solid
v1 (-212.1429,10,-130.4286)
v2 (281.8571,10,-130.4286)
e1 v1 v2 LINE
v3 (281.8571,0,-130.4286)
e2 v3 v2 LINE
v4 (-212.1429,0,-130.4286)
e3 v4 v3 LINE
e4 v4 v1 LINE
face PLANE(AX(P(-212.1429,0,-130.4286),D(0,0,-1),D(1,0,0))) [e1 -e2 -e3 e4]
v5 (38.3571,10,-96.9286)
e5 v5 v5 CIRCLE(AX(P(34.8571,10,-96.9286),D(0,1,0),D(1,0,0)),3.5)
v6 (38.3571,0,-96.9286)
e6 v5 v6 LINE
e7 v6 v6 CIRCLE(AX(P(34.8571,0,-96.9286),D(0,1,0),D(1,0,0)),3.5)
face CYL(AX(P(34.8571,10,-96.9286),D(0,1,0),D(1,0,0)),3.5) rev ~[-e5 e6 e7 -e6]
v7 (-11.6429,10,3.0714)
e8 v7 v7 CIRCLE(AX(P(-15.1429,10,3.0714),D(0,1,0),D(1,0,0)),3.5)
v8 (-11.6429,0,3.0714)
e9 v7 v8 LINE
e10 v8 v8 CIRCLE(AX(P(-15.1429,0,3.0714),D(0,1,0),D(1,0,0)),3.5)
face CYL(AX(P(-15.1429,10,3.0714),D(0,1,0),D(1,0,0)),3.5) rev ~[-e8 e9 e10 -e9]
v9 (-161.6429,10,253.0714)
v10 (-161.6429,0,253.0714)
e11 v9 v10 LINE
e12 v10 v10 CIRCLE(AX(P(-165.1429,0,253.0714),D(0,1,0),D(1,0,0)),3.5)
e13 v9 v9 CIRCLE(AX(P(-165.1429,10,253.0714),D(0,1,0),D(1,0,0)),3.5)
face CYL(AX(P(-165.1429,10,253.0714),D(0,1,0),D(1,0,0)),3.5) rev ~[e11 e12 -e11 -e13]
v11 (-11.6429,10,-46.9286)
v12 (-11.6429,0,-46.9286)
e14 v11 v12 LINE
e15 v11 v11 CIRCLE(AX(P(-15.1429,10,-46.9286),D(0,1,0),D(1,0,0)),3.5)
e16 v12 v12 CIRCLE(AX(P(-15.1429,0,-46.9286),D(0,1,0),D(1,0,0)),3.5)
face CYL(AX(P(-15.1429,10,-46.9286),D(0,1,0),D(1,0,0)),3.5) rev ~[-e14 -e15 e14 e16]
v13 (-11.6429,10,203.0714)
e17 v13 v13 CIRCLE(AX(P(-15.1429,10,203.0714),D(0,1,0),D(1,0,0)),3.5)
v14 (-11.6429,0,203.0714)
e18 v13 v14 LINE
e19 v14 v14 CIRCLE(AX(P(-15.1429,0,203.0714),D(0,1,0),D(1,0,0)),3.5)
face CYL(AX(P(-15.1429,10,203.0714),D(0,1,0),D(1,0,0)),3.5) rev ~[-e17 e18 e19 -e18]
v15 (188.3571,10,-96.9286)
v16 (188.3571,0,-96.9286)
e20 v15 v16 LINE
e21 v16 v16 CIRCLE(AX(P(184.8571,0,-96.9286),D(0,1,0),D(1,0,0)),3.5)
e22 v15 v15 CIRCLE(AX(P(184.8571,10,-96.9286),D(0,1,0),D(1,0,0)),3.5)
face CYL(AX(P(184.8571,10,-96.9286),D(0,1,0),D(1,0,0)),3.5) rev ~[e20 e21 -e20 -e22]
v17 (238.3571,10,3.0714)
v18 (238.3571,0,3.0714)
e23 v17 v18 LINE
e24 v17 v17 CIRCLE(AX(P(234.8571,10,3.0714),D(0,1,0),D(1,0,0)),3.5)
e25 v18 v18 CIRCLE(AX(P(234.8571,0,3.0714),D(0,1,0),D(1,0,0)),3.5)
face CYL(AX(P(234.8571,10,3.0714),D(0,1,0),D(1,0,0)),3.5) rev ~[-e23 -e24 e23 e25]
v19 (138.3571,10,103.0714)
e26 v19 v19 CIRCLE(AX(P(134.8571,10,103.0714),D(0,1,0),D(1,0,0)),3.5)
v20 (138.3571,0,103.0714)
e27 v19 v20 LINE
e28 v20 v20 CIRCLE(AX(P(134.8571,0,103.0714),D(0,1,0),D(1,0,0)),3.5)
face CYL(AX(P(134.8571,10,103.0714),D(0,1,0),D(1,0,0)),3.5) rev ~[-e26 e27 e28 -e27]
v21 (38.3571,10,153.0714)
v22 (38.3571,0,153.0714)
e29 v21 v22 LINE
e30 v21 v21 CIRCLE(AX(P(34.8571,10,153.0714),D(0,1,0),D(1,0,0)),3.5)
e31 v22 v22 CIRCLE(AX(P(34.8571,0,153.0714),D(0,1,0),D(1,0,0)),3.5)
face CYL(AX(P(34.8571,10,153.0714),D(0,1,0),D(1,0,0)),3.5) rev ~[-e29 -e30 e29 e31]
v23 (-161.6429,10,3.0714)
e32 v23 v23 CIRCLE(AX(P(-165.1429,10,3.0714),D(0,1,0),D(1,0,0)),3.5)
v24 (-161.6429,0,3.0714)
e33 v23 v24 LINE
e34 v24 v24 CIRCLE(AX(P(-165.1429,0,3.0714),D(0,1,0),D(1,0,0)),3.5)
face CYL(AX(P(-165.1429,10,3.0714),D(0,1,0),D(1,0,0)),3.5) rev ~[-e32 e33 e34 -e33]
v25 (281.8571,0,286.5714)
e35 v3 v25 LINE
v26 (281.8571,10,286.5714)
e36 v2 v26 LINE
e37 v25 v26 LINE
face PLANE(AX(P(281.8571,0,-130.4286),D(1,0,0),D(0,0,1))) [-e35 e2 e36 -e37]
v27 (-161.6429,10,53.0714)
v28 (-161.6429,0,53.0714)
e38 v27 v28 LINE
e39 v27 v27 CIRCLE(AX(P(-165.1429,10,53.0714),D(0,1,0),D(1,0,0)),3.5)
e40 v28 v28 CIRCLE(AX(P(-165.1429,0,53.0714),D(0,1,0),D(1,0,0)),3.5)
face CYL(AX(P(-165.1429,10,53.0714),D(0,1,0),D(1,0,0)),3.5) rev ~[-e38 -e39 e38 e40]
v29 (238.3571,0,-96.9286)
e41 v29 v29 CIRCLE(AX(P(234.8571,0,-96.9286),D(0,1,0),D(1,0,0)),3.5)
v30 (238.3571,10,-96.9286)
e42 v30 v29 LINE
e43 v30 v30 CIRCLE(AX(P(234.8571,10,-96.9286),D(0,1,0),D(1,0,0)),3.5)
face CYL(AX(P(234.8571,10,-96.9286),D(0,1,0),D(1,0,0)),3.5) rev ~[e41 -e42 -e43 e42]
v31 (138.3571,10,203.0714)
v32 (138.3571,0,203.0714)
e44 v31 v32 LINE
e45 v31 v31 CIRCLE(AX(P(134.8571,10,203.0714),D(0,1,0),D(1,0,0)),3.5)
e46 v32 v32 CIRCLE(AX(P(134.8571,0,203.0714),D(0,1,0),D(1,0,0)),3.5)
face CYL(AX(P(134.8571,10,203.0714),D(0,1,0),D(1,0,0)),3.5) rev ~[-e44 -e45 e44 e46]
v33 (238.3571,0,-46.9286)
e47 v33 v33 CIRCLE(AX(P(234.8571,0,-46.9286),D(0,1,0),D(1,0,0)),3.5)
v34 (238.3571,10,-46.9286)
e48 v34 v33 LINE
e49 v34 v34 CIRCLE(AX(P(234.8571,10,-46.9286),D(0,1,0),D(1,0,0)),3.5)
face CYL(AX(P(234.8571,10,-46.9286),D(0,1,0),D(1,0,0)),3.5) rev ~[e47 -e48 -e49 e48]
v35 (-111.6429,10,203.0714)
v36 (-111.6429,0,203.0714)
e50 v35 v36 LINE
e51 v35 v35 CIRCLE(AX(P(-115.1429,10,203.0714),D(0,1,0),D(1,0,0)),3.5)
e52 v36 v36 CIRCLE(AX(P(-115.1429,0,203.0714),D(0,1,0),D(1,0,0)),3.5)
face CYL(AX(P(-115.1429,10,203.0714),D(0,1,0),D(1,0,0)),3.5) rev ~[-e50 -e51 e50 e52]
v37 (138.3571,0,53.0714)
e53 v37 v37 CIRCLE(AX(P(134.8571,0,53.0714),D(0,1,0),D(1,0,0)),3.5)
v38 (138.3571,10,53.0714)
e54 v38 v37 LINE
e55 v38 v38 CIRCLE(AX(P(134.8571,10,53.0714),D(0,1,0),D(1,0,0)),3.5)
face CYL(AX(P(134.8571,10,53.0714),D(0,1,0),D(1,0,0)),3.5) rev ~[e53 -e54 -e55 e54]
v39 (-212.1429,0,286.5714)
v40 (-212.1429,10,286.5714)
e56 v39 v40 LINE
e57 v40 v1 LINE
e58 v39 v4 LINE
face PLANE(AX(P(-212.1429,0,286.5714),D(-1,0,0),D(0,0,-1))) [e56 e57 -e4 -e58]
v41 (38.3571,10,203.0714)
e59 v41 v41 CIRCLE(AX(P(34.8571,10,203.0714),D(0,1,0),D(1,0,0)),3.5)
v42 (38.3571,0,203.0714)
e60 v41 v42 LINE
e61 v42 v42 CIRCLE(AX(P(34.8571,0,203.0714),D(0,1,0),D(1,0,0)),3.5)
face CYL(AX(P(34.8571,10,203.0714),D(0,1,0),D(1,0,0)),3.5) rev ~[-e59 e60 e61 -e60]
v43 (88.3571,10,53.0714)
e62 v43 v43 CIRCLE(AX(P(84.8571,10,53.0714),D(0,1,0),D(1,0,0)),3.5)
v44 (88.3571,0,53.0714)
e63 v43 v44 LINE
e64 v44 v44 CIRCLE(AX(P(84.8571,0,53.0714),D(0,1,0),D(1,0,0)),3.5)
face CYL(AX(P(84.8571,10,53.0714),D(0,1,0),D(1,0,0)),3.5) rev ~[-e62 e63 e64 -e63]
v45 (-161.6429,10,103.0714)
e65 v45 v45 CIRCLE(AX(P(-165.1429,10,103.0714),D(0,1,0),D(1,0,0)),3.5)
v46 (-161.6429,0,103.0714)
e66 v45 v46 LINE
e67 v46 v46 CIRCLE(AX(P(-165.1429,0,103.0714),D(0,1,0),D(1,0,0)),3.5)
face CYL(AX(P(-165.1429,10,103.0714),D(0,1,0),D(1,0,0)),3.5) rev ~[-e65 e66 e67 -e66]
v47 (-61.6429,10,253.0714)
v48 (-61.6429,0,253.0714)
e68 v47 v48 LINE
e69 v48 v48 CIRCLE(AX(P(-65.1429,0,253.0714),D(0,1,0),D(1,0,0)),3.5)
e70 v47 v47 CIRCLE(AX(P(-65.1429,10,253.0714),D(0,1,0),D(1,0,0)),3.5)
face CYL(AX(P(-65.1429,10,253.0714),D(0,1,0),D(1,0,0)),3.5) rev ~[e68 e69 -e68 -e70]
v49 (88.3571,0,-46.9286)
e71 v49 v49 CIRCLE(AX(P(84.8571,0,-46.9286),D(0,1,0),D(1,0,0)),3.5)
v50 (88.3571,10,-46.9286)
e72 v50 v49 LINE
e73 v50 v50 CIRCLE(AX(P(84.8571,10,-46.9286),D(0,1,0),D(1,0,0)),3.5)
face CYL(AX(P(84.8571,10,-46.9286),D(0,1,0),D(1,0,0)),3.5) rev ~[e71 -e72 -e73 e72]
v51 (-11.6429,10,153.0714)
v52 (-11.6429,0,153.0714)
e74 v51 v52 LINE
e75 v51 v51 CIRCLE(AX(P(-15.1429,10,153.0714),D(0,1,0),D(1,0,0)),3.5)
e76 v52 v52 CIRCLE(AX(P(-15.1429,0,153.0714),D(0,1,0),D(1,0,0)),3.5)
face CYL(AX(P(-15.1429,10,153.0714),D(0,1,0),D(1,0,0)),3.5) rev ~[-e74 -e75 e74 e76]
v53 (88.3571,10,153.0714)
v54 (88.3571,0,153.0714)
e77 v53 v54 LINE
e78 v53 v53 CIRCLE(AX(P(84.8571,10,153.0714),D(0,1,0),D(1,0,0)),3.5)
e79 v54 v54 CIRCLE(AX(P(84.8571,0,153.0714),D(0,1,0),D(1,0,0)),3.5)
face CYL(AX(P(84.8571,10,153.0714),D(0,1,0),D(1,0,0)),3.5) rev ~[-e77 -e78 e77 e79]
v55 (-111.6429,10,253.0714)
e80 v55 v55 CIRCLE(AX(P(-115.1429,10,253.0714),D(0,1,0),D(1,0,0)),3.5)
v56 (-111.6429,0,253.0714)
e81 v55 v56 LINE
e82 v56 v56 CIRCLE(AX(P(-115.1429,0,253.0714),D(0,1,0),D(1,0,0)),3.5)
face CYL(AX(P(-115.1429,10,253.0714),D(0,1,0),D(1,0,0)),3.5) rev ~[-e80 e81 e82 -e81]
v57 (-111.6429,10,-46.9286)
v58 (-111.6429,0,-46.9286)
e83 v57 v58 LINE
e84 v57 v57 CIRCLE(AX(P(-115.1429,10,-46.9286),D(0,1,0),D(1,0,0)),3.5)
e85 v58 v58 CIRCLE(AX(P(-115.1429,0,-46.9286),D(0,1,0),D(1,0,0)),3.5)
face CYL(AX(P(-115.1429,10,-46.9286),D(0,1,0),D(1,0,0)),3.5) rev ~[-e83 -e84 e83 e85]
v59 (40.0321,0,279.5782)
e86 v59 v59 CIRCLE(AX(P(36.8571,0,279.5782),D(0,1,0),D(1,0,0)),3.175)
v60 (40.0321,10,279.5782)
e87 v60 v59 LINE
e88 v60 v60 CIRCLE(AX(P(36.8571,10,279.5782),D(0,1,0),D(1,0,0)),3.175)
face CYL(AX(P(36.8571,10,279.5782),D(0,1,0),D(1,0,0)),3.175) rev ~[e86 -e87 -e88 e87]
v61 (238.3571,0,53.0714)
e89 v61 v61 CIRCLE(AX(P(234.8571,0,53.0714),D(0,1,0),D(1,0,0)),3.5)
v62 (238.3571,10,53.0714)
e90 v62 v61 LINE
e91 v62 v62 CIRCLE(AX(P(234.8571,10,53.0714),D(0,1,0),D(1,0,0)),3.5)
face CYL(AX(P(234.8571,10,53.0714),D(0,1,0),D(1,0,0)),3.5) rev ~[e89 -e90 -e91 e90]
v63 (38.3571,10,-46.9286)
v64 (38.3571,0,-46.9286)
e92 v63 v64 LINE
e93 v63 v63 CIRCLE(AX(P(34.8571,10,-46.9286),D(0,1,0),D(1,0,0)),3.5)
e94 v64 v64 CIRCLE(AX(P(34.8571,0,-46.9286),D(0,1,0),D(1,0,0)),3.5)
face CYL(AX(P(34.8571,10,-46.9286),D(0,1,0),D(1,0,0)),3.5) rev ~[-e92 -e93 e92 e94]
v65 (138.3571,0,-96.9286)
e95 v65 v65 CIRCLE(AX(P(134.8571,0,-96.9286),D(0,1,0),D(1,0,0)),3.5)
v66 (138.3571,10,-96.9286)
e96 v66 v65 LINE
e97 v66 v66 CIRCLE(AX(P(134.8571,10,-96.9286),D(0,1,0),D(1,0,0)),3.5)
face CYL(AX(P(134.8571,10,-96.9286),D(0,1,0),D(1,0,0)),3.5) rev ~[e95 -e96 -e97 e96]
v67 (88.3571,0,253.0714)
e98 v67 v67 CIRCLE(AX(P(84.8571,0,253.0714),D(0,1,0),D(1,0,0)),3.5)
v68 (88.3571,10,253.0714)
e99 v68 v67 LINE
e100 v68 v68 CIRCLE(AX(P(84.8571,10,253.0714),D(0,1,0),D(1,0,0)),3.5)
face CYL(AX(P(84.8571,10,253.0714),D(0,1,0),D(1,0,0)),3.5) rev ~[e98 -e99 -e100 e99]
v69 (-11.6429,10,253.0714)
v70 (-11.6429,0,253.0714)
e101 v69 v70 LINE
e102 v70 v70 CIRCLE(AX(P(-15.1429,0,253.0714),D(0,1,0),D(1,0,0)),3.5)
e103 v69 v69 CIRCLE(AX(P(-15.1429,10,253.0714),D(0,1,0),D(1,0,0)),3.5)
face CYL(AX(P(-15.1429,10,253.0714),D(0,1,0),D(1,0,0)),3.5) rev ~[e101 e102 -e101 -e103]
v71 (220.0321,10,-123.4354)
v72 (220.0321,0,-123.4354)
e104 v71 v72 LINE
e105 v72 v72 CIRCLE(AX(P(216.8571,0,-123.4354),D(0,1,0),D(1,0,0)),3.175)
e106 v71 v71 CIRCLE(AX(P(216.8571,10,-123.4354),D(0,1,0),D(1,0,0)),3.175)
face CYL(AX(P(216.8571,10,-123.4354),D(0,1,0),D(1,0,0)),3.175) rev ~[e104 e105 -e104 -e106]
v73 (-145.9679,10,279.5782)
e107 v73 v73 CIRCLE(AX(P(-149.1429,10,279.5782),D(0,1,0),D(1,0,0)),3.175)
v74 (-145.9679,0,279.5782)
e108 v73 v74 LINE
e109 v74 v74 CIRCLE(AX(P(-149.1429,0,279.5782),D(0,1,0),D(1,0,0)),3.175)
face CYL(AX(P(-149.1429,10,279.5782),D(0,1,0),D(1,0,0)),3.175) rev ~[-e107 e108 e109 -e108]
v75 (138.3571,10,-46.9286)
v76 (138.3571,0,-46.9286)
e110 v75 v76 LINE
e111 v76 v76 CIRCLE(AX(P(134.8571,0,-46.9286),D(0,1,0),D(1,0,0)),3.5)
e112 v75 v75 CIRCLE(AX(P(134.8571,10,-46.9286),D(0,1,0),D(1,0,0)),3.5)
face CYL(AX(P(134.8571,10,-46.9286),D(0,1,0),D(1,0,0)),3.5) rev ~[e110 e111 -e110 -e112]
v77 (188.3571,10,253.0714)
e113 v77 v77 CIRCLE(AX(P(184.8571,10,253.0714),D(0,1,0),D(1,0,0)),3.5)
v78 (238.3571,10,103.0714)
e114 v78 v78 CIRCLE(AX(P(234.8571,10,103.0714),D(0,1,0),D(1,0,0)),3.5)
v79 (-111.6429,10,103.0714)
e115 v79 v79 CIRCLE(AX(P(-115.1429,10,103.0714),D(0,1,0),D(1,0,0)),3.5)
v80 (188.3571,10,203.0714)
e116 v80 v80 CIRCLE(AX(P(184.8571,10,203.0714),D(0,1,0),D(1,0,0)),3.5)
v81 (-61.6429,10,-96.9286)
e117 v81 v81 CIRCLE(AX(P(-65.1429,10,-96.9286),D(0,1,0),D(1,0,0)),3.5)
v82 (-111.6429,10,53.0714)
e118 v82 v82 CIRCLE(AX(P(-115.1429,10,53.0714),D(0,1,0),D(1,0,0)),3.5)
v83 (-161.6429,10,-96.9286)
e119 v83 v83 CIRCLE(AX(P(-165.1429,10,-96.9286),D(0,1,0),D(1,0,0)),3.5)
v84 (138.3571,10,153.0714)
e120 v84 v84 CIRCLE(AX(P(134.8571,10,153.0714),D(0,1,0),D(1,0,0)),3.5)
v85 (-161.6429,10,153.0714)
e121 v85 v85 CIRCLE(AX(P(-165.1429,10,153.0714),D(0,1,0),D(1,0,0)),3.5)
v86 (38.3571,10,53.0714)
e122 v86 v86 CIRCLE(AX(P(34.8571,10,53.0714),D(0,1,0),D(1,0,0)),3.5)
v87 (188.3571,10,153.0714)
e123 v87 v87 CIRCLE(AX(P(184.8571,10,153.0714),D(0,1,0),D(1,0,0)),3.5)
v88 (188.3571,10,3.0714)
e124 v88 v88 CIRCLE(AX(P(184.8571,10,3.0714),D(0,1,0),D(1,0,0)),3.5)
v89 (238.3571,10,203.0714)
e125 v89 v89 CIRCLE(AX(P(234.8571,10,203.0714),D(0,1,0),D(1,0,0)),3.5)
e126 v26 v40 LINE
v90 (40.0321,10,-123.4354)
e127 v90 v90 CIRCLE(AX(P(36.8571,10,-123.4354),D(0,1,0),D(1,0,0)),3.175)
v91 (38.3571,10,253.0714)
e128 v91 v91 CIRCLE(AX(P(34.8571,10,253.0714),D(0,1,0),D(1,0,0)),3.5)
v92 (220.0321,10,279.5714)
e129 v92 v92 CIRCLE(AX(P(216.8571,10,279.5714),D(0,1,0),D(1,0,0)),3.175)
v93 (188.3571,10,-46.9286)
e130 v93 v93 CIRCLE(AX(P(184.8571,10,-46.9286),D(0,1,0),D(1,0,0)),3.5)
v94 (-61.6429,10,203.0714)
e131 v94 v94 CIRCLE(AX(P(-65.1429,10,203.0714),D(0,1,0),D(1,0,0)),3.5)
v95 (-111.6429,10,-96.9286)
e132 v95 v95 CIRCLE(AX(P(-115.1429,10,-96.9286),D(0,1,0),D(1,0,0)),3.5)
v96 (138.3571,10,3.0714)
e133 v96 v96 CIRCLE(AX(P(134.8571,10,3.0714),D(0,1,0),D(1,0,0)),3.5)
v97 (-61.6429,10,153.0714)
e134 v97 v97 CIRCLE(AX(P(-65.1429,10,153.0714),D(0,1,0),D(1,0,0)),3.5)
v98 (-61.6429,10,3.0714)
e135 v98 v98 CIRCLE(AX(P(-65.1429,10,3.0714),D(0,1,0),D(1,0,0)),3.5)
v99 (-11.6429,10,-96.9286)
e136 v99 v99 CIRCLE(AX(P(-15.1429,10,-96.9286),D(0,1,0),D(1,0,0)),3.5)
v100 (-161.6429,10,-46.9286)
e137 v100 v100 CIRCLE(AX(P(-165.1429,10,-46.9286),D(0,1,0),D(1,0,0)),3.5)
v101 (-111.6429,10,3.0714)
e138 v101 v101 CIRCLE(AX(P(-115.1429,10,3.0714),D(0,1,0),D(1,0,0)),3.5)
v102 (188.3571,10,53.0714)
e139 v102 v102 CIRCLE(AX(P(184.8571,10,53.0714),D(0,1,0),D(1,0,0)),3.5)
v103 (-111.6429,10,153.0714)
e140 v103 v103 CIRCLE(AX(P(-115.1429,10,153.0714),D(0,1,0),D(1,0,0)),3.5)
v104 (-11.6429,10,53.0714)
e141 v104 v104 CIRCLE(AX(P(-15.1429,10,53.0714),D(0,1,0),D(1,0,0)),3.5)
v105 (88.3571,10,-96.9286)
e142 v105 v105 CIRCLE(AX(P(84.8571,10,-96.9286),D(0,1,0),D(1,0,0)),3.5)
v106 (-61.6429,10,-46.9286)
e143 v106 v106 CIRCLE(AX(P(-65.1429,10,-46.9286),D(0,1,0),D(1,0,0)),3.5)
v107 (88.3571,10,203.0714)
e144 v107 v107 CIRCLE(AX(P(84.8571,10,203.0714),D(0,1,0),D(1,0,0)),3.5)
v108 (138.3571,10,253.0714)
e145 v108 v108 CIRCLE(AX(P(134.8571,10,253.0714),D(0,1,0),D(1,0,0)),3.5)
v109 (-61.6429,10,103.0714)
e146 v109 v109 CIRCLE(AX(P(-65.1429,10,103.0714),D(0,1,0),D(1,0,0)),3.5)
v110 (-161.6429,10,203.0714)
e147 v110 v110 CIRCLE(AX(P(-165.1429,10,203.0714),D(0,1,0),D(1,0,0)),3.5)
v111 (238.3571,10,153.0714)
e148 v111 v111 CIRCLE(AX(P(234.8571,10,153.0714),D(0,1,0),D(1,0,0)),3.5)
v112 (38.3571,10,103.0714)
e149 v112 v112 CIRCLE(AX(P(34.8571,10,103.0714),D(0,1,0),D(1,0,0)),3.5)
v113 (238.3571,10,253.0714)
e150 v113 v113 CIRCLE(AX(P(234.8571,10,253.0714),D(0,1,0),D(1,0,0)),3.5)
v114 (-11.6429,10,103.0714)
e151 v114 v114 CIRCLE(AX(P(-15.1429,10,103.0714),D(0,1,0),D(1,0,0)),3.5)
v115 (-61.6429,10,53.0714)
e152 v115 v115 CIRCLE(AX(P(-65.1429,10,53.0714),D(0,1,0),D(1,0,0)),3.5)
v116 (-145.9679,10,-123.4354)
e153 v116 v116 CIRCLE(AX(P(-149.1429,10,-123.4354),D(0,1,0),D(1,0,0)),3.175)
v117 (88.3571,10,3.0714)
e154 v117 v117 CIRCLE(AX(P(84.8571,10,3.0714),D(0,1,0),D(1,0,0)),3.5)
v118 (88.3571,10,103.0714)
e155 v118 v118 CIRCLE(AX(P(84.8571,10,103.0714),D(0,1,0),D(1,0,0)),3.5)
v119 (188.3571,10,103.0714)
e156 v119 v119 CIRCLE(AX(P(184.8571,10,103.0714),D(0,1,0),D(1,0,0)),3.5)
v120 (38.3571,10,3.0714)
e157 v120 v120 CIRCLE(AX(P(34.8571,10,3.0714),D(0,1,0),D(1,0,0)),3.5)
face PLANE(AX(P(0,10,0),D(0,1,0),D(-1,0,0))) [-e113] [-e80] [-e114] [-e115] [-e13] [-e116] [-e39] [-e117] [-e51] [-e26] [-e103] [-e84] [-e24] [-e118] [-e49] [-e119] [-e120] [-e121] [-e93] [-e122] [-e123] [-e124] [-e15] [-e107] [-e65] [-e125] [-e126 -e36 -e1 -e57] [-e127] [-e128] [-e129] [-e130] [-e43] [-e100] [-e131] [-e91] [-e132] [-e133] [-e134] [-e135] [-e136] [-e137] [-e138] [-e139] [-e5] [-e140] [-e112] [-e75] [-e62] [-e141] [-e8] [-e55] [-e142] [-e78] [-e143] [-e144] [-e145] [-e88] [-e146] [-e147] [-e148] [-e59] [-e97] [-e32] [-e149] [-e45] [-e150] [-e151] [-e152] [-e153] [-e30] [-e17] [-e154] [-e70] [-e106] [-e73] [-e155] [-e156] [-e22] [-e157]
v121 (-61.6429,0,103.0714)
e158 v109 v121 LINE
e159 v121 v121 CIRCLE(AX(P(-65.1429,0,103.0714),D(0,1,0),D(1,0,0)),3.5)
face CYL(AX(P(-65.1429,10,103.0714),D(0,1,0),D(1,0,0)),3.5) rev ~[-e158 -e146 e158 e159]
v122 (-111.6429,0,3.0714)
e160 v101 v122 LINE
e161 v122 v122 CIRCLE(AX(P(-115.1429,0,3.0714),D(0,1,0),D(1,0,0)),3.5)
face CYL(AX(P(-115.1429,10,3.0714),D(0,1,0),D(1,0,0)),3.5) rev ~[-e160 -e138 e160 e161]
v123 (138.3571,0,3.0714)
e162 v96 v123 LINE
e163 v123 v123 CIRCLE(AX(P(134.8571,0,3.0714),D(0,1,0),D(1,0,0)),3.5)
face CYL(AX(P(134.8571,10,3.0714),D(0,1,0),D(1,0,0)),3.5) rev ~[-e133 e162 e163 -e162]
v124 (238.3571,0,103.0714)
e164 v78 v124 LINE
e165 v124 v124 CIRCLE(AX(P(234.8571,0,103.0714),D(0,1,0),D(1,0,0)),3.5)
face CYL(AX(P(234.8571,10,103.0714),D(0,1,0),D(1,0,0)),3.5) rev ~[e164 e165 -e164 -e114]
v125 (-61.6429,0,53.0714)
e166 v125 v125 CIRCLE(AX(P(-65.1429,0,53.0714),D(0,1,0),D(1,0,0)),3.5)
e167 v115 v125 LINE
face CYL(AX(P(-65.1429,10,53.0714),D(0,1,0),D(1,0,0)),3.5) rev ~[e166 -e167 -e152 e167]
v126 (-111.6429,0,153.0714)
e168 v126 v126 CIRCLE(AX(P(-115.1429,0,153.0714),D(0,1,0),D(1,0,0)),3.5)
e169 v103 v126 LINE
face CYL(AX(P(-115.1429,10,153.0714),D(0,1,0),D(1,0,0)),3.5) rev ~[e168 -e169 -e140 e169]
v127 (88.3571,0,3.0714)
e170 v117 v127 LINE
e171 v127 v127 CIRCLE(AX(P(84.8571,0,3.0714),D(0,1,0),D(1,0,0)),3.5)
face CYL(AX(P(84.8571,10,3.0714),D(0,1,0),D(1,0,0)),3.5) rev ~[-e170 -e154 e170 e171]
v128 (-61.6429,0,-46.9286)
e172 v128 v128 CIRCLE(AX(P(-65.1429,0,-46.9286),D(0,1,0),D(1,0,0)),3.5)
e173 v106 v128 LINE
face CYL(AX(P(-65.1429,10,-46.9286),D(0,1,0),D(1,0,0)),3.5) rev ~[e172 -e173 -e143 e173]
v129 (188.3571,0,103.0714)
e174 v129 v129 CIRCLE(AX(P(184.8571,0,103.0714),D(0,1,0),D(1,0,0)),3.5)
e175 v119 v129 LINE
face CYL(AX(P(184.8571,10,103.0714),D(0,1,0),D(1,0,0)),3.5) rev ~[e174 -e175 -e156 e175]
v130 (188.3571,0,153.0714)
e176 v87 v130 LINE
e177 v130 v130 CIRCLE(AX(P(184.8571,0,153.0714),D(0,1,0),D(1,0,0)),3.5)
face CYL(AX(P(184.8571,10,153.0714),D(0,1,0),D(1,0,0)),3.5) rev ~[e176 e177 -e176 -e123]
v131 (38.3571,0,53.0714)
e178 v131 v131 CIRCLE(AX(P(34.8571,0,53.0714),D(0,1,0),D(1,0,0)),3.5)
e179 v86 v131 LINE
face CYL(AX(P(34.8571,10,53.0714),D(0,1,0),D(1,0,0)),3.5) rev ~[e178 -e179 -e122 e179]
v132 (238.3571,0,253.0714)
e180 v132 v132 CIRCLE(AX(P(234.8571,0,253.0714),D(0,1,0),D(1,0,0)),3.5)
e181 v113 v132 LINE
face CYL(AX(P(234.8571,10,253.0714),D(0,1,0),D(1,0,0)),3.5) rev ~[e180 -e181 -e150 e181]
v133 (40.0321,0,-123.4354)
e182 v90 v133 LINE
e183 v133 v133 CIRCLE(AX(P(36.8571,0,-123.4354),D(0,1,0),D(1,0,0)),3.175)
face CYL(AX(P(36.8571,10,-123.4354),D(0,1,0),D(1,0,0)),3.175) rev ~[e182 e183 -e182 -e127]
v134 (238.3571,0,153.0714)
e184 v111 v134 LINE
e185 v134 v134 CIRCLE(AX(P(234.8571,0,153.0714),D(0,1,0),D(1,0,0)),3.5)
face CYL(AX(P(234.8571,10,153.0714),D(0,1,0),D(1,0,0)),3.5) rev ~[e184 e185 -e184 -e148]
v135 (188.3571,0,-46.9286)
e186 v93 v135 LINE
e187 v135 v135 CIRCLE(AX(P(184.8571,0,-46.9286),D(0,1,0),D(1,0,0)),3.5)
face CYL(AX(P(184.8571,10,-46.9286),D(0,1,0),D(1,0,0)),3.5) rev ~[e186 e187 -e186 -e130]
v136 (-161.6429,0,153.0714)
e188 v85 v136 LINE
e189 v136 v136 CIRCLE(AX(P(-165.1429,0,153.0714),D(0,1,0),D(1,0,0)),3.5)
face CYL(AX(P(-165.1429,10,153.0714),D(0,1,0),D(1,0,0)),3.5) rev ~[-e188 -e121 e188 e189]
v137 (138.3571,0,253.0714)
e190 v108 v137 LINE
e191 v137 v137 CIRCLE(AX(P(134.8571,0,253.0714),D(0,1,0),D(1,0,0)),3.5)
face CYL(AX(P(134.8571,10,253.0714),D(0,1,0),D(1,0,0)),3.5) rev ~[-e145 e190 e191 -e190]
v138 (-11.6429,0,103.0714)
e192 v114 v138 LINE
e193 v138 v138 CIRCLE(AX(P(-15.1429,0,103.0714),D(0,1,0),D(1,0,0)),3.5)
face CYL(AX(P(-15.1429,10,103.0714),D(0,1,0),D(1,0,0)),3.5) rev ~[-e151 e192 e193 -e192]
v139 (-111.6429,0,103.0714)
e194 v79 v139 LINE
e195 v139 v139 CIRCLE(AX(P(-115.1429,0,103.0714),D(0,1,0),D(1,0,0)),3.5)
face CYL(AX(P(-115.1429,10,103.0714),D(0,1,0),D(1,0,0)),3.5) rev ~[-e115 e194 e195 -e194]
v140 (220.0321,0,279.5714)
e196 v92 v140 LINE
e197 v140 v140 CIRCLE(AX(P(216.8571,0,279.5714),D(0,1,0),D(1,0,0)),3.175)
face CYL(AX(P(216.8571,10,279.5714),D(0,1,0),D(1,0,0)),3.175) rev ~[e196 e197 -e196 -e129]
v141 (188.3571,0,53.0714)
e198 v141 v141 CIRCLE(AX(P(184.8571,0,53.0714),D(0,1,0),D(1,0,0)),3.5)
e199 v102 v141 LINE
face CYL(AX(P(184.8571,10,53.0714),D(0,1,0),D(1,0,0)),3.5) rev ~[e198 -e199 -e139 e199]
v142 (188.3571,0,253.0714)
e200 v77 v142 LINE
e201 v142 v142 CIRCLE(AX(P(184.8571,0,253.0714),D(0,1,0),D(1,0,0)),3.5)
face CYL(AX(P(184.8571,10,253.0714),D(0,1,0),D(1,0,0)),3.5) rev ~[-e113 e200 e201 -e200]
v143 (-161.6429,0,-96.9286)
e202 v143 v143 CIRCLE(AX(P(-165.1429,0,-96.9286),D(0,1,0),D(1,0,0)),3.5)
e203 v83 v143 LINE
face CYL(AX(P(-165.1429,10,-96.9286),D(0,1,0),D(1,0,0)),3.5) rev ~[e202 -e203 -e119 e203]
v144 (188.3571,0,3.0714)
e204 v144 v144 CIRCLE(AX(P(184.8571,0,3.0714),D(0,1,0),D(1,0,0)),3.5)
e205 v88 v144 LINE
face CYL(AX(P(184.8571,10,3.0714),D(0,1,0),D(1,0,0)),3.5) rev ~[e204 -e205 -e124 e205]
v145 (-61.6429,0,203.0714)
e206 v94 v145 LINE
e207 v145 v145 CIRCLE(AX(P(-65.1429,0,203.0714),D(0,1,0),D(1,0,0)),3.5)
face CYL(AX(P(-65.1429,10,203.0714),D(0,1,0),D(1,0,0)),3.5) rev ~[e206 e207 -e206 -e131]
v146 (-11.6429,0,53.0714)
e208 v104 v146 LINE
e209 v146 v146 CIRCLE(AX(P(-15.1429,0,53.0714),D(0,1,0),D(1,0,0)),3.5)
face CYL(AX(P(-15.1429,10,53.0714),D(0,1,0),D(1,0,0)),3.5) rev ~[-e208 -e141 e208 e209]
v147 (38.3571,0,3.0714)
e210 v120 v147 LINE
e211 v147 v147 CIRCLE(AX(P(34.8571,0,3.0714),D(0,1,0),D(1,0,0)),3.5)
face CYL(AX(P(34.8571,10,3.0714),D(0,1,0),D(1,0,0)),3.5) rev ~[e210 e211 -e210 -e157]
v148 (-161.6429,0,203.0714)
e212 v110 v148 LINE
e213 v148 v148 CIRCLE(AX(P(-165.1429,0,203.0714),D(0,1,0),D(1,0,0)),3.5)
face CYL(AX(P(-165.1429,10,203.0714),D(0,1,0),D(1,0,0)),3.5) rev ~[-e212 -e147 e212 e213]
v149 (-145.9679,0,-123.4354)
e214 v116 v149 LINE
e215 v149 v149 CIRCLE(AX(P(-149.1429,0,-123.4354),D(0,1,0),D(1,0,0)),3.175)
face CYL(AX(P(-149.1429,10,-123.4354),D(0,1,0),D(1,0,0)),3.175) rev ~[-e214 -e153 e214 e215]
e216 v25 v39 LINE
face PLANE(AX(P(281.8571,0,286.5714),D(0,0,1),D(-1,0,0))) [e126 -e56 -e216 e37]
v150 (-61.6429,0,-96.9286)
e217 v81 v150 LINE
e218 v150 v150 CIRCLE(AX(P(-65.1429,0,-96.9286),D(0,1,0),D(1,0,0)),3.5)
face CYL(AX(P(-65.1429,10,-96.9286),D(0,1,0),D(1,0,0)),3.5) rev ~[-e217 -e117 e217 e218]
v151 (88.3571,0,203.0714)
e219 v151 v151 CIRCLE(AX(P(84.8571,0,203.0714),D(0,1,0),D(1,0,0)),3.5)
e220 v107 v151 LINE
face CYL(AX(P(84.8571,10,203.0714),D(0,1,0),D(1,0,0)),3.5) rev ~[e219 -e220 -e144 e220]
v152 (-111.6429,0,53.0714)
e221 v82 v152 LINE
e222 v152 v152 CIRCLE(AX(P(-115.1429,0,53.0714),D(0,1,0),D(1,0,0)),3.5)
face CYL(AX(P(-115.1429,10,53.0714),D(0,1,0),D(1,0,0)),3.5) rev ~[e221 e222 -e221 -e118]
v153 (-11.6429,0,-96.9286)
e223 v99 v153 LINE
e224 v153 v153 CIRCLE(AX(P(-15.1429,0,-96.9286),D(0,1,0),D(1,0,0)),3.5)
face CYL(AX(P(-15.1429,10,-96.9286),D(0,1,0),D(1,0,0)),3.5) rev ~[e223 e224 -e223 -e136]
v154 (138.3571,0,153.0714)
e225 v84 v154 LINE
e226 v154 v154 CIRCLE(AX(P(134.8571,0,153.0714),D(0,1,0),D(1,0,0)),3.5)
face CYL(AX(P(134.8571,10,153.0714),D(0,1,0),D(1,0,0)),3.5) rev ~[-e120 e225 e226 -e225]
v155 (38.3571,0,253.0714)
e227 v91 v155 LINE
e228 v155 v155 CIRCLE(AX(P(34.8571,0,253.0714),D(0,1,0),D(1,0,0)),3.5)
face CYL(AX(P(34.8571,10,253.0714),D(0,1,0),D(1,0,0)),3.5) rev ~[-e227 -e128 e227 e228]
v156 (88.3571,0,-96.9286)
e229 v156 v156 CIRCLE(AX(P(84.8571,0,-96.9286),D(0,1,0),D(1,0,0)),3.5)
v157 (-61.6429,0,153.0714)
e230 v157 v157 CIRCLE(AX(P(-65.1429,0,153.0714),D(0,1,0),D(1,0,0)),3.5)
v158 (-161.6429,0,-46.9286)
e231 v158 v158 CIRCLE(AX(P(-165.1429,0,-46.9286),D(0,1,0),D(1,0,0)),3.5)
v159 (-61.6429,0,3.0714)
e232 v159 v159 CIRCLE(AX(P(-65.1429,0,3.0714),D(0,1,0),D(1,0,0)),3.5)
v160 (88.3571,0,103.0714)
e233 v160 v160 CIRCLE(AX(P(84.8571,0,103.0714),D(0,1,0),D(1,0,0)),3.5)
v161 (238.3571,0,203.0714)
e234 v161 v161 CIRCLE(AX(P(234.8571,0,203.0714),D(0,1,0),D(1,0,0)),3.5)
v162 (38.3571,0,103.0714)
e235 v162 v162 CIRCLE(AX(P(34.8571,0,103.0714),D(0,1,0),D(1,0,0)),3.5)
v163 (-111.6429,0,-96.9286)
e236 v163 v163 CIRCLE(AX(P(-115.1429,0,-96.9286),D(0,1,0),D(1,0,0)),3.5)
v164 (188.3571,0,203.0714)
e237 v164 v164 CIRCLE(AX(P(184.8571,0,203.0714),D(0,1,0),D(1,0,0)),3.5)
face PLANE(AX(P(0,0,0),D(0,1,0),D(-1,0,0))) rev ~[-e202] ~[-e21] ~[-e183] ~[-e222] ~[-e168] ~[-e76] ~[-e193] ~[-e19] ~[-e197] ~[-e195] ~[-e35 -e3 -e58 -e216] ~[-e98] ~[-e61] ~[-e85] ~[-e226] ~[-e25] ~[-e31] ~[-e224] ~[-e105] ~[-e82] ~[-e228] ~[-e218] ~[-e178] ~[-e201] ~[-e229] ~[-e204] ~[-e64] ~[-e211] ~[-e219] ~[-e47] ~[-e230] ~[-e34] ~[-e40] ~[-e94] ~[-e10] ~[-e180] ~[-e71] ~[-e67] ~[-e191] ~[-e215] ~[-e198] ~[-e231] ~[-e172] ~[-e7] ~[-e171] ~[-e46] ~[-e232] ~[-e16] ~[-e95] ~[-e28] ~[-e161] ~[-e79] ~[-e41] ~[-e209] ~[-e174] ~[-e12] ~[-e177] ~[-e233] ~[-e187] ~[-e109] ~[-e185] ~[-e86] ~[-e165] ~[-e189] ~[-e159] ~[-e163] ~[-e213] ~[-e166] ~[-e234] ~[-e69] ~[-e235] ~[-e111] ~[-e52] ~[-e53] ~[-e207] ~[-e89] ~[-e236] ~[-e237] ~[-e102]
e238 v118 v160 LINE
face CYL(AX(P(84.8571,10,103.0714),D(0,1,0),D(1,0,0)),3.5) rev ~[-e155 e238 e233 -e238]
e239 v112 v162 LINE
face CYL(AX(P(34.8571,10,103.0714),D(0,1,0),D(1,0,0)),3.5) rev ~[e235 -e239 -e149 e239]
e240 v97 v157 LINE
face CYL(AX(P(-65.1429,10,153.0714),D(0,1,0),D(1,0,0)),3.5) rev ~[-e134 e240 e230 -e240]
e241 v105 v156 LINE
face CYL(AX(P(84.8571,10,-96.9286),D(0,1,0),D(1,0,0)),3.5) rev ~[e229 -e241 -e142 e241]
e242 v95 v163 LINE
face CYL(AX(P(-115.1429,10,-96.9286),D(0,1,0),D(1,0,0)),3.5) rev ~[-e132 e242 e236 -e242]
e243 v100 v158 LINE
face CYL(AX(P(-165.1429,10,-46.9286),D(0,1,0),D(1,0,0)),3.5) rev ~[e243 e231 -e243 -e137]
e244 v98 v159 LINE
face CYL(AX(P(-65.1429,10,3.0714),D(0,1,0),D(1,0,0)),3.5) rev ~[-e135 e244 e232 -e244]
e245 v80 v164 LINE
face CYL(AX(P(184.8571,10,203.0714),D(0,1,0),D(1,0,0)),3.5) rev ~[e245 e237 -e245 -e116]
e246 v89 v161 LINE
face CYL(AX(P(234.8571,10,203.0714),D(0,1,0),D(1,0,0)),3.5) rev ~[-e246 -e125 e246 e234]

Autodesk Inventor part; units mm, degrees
ref_plane "YZ Plane" through (0, 0, 0) normal (1, 0, 0) x (0, 1, 0)
ref_plane "XZ Plane" through (0, 0, 0) normal (0, 1, 0) x (-1, 0, 0)
ref_plane "XY Plane" through (0, 0, 0) normal (0, 0, 1) x (1, 0, 0)
sketch "Sketch1" plane through (0, 0, 0) normal (0, 1, 0) x (-1, 0, 0)
  line L0 (212.1429, -130.4286) -> (-281.8571, -130.4286)
  line L1 (-281.8571, -130.4286) -> (-281.8571, 286.5714)
  line L2 (-281.8571, 286.5714) -> (212.1429, 286.5714)
  line L3 (212.1429, 286.5714) -> (212.1429, -130.4286)
  point P0 (0, 0)
  dimension "d0" = 494
  dimension "d1" = 417
extrude "Extrusion1" add sketch "Sketch1" along normal blind 10
sketch "Sketch2" plane through (0, 10, 0) normal (0, 1, 0) x (1, 0, 0)
  point P0 (0, 0)
sketch "Sketch3" plane through (0, 10, 0) normal (0, 1, 0) x (1, 0, 0)
  line L0 (-212.1429, -286.5714) -> (281.8571, -286.5714) projected
  line L1 (281.8571, 130.4286) -> (-212.1429, 130.4286) projected
  point P0 (0, 0)
  dimension "d4" = 416.9918
sketch "Sketch4" plane through (0, 10, 0) normal (0, 1, 0) x (1, 0, 0)
  circle A0 centre (216.8571, -279.5714) radius 3.175
  circle A1 centre (56.7978, -63.9355) radius 3.6308
  circle A2 centre (36.104, -63.9355) radius 3.736
  line L0 (281.8571, 130.4286) -> (-212.1429, 130.4286) projected
  line L1 (281.8571, -286.5714) -> (281.8571, 130.4286) projected
  point P0 (0, 0)
  dimension "d5" = 6.35
  dimension "d6" = 410
  dimension "d7" = 65
extrude "Extrusion2" cut sketch "Sketch4" against normal blind 10 contours A0
sketch "Sketch5" plane through (0, 10, 0) normal (0, 1, 0) x (1, 0, 0)
  circle A0 centre (36.8571, -279.5782) radius 3.175
  line L0 (281.8571, 130.4286) -> (-212.1429, 130.4286) projected
  circle A1 centre (216.8571, -279.5714) radius 3.175 projected
  line L1 (281.8571, -286.5714) -> (281.8571, 130.4286) projected
  point P0 (0, 0)
  dimension "d10" = 6.35
  dimension "d11" = 410.0068
  dimension "d12" = 410
  dimension "d13" = 245
extrude "Extrusion3" cut sketch "Sketch5" against normal blind 10 contours A0
sketch "Sketch6" plane through (0, 10, 0) normal (0, 1, 0) x (1, 0, 0)
  circle A0 centre (-149.1429, -279.5782) radius 3.175
  line L0 (281.8571, 130.4286) -> (-212.1429, 130.4286) projected
  line L1 (281.8571, -286.5714) -> (281.8571, 130.4286) projected
  point P0 (0, 0)
  dimension "d16" = 6.35
  dimension "d17" = 410.0068
  dimension "d18" = 431
extrude "Extrusion4" cut sketch "Sketch6" against normal blind 13.175
sketch "Sketch7" plane through (0, 10, 0) normal (0, 1, 0) x (1, 0, 0)
  circle A0 centre (216.8571, 123.4354) radius 3.175
  line L0 (281.8571, -286.5714) -> (281.8571, 130.4286) projected
  line L1 (-212.1429, -286.5714) -> (281.8571, -286.5714) projected
  point P0 (0, 0)
  dimension "d21" = 6.35
  dimension "d22" = 65
  dimension "d23" = 410.0068
extrude "Extrusion5" cut sketch "Sketch7" against normal blind 10
sketch "Sketch9" plane through (0, 10, 0) normal (0, 1, 0) x (1, 0, 0)
  circle A0 centre (36.8571, 123.4354) radius 3.175
  line L0 (-212.1429, -286.5714) -> (281.8571, -286.5714) projected
  line L1 (281.8571, -286.5714) -> (281.8571, 130.4286) projected
  point P0 (0, 0)
  dimension "d26" = 6.35
  dimension "d27" = 410.0068
  dimension "d28" = 245
extrude "Extrusion6" cut sketch "Sketch9" against normal blind 10
sketch "Sketch10" plane through (0, 10, 0) normal (0, 1, 0) x (1, 0, 0)
  circle A0 centre (-149.1429, 123.4354) radius 3.175
  line L0 (-212.1429, -286.5714) -> (281.8571, -286.5714) projected
  line L1 (281.8571, -286.5714) -> (281.8571, 130.4286) projected
  point P0 (0, 0)
  dimension "d31" = 6.35
  dimension "d32" = 410.0068
  dimension "d33" = 431
extrude "Extrusion7" cut sketch "Sketch10" against normal blind 10
sketch "Sketch15" plane through (0, 10, 0) normal (0, 1, 0) x (1, 0, 0)
  line L0 (281.8571, 130.4286) -> (-212.1429, 130.4286) projected
  line L1 (-212.1429, 130.4286) -> (-212.1429, -286.5714) projected
  circle A0 centre (-165.1429, 96.9286) radius 3.5
  circle A1 centre (-115.1429, 96.9286) radius 3.5
  circle A2 centre (-65.1429, 96.9286) radius 3.5
  circle A3 centre (-15.1429, 96.9286) radius 3.5
  circle A4 centre (34.8571, 96.9286) radius 3.5
  circle A5 centre (84.8571, 96.9286) radius 3.5
  circle A6 centre (134.8571, 96.9286) radius 3.5
  circle A7 centre (184.8571, 96.9286) radius 3.5
  circle A8 centre (234.8571, 96.9286) radius 3.5
  circle A9 centre (-165.1429, 46.9286) radius 3.5
  circle A10 centre (-115.1429, 46.9286) radius 3.5
  circle A11 centre (-65.1429, 46.9286) radius 3.5
  circle A12 centre (-15.1429, 46.9286) radius 3.5
  circle A13 centre (34.8571, 46.9286) radius 3.5
  circle A14 centre (84.8571, 46.9286) radius 3.5
  circle A15 centre (134.8571, 46.9286) radius 3.5
  circle A16 centre (184.8571, 46.9286) radius 3.5
  circle A17 centre (234.8571, 46.9286) radius 3.5
  circle A18 centre (-165.1429, -3.0714) radius 3.5
  circle A19 centre (-115.1429, -3.0714) radius 3.5
  circle A20 centre (-65.1429, -3.0714) radius 3.5
  circle A21 centre (-15.1429, -3.0714) radius 3.5
  circle A22 centre (34.8571, -3.0714) radius 3.5
  circle A23 centre (84.8571, -3.0714) radius 3.5
  circle A24 centre (134.8571, -3.0714) radius 3.5
  circle A25 centre (184.8571, -3.0714) radius 3.5
  circle A26 centre (234.8571, -3.0714) radius 3.5
  circle A27 centre (-165.1429, -53.0714) radius 3.5
  circle A28 centre (-115.1429, -53.0714) radius 3.5
  circle A29 centre (-65.1429, -53.0714) radius 3.5
  circle A30 centre (-15.1429, -53.0714) radius 3.5
  circle A31 centre (34.8571, -53.0714) radius 3.5
  circle A32 centre (84.8571, -53.0714) radius 3.5
  circle A33 centre (134.8571, -53.0714) radius 3.5
  circle A34 centre (184.8571, -53.0714) radius 3.5
  circle A35 centre (234.8571, -53.0714) radius 3.5
  circle A36 centre (-165.1429, -103.0714) radius 3.5
  circle A37 centre (-115.1429, -103.0714) radius 3.5
  circle A38 centre (-65.1429, -103.0714) radius 3.5
  circle A39 centre (-15.1429, -103.0714) radius 3.5
  circle A40 centre (34.8571, -103.0714) radius 3.5
  circle A41 centre (84.8571, -103.0714) radius 3.5
  circle A42 centre (134.8571, -103.0714) radius 3.5
  circle A43 centre (184.8571, -103.0714) radius 3.5
  circle A44 centre (234.8571, -103.0714) radius 3.5
  circle A45 centre (-165.1429, -153.0714) radius 3.5
  circle A46 centre (-115.1429, -153.0714) radius 3.5
  circle A47 centre (-65.1429, -153.0714) radius 3.5
  circle A48 centre (-15.1429, -153.0714) radius 3.5
  circle A49 centre (34.8571, -153.0714) radius 3.5
  circle A50 centre (84.8571, -153.0714) radius 3.5
  circle A51 centre (134.8571, -153.0714) radius 3.5
  circle A52 centre (184.8571, -153.0714) radius 3.5
  circle A53 centre (234.8571, -153.0714) radius 3.5
  circle A54 centre (-165.1429, -203.0714) radius 3.5
  circle A55 centre (-115.1429, -203.0714) radius 3.5
  circle A56 centre (-65.1429, -203.0714) radius 3.5
  circle A57 centre (-15.1429, -203.0714) radius 3.5
  circle A58 centre (34.8571, -203.0714) radius 3.5
  circle A59 centre (84.8571, -203.0714) radius 3.5
  circle A60 centre (134.8571, -203.0714) radius 3.5
  circle A61 centre (184.8571, -203.0714) radius 3.5
  circle A62 centre (234.8571, -203.0714) radius 3.5
  circle A63 centre (-165.1429, -253.0714) radius 3.5
  circle A64 centre (-115.1429, -253.0714) radius 3.5
  circle A65 centre (-65.1429, -253.0714) radius 3.5
  circle A66 centre (-15.1429, -253.0714) radius 3.5
  circle A67 centre (34.8571, -253.0714) radius 3.5
  circle A68 centre (84.8571, -253.0714) radius 3.5
  circle A69 centre (134.8571, -253.0714) radius 3.5
  circle A70 centre (184.8571, -253.0714) radius 3.5
  circle A71 centre (234.8571, -253.0714) radius 3.5
  point P0 (0, 0)
  dimension "d130" = 7
  dimension "d131" = 47
  dimension "d132" = 33.5
  dimension "d135" = 50
  dimension "d138" = 50
extrude "Extrusion9" cut sketch "Sketch15" against normal through all
properties part number "BattleBot-TopPlate5cmversion"
